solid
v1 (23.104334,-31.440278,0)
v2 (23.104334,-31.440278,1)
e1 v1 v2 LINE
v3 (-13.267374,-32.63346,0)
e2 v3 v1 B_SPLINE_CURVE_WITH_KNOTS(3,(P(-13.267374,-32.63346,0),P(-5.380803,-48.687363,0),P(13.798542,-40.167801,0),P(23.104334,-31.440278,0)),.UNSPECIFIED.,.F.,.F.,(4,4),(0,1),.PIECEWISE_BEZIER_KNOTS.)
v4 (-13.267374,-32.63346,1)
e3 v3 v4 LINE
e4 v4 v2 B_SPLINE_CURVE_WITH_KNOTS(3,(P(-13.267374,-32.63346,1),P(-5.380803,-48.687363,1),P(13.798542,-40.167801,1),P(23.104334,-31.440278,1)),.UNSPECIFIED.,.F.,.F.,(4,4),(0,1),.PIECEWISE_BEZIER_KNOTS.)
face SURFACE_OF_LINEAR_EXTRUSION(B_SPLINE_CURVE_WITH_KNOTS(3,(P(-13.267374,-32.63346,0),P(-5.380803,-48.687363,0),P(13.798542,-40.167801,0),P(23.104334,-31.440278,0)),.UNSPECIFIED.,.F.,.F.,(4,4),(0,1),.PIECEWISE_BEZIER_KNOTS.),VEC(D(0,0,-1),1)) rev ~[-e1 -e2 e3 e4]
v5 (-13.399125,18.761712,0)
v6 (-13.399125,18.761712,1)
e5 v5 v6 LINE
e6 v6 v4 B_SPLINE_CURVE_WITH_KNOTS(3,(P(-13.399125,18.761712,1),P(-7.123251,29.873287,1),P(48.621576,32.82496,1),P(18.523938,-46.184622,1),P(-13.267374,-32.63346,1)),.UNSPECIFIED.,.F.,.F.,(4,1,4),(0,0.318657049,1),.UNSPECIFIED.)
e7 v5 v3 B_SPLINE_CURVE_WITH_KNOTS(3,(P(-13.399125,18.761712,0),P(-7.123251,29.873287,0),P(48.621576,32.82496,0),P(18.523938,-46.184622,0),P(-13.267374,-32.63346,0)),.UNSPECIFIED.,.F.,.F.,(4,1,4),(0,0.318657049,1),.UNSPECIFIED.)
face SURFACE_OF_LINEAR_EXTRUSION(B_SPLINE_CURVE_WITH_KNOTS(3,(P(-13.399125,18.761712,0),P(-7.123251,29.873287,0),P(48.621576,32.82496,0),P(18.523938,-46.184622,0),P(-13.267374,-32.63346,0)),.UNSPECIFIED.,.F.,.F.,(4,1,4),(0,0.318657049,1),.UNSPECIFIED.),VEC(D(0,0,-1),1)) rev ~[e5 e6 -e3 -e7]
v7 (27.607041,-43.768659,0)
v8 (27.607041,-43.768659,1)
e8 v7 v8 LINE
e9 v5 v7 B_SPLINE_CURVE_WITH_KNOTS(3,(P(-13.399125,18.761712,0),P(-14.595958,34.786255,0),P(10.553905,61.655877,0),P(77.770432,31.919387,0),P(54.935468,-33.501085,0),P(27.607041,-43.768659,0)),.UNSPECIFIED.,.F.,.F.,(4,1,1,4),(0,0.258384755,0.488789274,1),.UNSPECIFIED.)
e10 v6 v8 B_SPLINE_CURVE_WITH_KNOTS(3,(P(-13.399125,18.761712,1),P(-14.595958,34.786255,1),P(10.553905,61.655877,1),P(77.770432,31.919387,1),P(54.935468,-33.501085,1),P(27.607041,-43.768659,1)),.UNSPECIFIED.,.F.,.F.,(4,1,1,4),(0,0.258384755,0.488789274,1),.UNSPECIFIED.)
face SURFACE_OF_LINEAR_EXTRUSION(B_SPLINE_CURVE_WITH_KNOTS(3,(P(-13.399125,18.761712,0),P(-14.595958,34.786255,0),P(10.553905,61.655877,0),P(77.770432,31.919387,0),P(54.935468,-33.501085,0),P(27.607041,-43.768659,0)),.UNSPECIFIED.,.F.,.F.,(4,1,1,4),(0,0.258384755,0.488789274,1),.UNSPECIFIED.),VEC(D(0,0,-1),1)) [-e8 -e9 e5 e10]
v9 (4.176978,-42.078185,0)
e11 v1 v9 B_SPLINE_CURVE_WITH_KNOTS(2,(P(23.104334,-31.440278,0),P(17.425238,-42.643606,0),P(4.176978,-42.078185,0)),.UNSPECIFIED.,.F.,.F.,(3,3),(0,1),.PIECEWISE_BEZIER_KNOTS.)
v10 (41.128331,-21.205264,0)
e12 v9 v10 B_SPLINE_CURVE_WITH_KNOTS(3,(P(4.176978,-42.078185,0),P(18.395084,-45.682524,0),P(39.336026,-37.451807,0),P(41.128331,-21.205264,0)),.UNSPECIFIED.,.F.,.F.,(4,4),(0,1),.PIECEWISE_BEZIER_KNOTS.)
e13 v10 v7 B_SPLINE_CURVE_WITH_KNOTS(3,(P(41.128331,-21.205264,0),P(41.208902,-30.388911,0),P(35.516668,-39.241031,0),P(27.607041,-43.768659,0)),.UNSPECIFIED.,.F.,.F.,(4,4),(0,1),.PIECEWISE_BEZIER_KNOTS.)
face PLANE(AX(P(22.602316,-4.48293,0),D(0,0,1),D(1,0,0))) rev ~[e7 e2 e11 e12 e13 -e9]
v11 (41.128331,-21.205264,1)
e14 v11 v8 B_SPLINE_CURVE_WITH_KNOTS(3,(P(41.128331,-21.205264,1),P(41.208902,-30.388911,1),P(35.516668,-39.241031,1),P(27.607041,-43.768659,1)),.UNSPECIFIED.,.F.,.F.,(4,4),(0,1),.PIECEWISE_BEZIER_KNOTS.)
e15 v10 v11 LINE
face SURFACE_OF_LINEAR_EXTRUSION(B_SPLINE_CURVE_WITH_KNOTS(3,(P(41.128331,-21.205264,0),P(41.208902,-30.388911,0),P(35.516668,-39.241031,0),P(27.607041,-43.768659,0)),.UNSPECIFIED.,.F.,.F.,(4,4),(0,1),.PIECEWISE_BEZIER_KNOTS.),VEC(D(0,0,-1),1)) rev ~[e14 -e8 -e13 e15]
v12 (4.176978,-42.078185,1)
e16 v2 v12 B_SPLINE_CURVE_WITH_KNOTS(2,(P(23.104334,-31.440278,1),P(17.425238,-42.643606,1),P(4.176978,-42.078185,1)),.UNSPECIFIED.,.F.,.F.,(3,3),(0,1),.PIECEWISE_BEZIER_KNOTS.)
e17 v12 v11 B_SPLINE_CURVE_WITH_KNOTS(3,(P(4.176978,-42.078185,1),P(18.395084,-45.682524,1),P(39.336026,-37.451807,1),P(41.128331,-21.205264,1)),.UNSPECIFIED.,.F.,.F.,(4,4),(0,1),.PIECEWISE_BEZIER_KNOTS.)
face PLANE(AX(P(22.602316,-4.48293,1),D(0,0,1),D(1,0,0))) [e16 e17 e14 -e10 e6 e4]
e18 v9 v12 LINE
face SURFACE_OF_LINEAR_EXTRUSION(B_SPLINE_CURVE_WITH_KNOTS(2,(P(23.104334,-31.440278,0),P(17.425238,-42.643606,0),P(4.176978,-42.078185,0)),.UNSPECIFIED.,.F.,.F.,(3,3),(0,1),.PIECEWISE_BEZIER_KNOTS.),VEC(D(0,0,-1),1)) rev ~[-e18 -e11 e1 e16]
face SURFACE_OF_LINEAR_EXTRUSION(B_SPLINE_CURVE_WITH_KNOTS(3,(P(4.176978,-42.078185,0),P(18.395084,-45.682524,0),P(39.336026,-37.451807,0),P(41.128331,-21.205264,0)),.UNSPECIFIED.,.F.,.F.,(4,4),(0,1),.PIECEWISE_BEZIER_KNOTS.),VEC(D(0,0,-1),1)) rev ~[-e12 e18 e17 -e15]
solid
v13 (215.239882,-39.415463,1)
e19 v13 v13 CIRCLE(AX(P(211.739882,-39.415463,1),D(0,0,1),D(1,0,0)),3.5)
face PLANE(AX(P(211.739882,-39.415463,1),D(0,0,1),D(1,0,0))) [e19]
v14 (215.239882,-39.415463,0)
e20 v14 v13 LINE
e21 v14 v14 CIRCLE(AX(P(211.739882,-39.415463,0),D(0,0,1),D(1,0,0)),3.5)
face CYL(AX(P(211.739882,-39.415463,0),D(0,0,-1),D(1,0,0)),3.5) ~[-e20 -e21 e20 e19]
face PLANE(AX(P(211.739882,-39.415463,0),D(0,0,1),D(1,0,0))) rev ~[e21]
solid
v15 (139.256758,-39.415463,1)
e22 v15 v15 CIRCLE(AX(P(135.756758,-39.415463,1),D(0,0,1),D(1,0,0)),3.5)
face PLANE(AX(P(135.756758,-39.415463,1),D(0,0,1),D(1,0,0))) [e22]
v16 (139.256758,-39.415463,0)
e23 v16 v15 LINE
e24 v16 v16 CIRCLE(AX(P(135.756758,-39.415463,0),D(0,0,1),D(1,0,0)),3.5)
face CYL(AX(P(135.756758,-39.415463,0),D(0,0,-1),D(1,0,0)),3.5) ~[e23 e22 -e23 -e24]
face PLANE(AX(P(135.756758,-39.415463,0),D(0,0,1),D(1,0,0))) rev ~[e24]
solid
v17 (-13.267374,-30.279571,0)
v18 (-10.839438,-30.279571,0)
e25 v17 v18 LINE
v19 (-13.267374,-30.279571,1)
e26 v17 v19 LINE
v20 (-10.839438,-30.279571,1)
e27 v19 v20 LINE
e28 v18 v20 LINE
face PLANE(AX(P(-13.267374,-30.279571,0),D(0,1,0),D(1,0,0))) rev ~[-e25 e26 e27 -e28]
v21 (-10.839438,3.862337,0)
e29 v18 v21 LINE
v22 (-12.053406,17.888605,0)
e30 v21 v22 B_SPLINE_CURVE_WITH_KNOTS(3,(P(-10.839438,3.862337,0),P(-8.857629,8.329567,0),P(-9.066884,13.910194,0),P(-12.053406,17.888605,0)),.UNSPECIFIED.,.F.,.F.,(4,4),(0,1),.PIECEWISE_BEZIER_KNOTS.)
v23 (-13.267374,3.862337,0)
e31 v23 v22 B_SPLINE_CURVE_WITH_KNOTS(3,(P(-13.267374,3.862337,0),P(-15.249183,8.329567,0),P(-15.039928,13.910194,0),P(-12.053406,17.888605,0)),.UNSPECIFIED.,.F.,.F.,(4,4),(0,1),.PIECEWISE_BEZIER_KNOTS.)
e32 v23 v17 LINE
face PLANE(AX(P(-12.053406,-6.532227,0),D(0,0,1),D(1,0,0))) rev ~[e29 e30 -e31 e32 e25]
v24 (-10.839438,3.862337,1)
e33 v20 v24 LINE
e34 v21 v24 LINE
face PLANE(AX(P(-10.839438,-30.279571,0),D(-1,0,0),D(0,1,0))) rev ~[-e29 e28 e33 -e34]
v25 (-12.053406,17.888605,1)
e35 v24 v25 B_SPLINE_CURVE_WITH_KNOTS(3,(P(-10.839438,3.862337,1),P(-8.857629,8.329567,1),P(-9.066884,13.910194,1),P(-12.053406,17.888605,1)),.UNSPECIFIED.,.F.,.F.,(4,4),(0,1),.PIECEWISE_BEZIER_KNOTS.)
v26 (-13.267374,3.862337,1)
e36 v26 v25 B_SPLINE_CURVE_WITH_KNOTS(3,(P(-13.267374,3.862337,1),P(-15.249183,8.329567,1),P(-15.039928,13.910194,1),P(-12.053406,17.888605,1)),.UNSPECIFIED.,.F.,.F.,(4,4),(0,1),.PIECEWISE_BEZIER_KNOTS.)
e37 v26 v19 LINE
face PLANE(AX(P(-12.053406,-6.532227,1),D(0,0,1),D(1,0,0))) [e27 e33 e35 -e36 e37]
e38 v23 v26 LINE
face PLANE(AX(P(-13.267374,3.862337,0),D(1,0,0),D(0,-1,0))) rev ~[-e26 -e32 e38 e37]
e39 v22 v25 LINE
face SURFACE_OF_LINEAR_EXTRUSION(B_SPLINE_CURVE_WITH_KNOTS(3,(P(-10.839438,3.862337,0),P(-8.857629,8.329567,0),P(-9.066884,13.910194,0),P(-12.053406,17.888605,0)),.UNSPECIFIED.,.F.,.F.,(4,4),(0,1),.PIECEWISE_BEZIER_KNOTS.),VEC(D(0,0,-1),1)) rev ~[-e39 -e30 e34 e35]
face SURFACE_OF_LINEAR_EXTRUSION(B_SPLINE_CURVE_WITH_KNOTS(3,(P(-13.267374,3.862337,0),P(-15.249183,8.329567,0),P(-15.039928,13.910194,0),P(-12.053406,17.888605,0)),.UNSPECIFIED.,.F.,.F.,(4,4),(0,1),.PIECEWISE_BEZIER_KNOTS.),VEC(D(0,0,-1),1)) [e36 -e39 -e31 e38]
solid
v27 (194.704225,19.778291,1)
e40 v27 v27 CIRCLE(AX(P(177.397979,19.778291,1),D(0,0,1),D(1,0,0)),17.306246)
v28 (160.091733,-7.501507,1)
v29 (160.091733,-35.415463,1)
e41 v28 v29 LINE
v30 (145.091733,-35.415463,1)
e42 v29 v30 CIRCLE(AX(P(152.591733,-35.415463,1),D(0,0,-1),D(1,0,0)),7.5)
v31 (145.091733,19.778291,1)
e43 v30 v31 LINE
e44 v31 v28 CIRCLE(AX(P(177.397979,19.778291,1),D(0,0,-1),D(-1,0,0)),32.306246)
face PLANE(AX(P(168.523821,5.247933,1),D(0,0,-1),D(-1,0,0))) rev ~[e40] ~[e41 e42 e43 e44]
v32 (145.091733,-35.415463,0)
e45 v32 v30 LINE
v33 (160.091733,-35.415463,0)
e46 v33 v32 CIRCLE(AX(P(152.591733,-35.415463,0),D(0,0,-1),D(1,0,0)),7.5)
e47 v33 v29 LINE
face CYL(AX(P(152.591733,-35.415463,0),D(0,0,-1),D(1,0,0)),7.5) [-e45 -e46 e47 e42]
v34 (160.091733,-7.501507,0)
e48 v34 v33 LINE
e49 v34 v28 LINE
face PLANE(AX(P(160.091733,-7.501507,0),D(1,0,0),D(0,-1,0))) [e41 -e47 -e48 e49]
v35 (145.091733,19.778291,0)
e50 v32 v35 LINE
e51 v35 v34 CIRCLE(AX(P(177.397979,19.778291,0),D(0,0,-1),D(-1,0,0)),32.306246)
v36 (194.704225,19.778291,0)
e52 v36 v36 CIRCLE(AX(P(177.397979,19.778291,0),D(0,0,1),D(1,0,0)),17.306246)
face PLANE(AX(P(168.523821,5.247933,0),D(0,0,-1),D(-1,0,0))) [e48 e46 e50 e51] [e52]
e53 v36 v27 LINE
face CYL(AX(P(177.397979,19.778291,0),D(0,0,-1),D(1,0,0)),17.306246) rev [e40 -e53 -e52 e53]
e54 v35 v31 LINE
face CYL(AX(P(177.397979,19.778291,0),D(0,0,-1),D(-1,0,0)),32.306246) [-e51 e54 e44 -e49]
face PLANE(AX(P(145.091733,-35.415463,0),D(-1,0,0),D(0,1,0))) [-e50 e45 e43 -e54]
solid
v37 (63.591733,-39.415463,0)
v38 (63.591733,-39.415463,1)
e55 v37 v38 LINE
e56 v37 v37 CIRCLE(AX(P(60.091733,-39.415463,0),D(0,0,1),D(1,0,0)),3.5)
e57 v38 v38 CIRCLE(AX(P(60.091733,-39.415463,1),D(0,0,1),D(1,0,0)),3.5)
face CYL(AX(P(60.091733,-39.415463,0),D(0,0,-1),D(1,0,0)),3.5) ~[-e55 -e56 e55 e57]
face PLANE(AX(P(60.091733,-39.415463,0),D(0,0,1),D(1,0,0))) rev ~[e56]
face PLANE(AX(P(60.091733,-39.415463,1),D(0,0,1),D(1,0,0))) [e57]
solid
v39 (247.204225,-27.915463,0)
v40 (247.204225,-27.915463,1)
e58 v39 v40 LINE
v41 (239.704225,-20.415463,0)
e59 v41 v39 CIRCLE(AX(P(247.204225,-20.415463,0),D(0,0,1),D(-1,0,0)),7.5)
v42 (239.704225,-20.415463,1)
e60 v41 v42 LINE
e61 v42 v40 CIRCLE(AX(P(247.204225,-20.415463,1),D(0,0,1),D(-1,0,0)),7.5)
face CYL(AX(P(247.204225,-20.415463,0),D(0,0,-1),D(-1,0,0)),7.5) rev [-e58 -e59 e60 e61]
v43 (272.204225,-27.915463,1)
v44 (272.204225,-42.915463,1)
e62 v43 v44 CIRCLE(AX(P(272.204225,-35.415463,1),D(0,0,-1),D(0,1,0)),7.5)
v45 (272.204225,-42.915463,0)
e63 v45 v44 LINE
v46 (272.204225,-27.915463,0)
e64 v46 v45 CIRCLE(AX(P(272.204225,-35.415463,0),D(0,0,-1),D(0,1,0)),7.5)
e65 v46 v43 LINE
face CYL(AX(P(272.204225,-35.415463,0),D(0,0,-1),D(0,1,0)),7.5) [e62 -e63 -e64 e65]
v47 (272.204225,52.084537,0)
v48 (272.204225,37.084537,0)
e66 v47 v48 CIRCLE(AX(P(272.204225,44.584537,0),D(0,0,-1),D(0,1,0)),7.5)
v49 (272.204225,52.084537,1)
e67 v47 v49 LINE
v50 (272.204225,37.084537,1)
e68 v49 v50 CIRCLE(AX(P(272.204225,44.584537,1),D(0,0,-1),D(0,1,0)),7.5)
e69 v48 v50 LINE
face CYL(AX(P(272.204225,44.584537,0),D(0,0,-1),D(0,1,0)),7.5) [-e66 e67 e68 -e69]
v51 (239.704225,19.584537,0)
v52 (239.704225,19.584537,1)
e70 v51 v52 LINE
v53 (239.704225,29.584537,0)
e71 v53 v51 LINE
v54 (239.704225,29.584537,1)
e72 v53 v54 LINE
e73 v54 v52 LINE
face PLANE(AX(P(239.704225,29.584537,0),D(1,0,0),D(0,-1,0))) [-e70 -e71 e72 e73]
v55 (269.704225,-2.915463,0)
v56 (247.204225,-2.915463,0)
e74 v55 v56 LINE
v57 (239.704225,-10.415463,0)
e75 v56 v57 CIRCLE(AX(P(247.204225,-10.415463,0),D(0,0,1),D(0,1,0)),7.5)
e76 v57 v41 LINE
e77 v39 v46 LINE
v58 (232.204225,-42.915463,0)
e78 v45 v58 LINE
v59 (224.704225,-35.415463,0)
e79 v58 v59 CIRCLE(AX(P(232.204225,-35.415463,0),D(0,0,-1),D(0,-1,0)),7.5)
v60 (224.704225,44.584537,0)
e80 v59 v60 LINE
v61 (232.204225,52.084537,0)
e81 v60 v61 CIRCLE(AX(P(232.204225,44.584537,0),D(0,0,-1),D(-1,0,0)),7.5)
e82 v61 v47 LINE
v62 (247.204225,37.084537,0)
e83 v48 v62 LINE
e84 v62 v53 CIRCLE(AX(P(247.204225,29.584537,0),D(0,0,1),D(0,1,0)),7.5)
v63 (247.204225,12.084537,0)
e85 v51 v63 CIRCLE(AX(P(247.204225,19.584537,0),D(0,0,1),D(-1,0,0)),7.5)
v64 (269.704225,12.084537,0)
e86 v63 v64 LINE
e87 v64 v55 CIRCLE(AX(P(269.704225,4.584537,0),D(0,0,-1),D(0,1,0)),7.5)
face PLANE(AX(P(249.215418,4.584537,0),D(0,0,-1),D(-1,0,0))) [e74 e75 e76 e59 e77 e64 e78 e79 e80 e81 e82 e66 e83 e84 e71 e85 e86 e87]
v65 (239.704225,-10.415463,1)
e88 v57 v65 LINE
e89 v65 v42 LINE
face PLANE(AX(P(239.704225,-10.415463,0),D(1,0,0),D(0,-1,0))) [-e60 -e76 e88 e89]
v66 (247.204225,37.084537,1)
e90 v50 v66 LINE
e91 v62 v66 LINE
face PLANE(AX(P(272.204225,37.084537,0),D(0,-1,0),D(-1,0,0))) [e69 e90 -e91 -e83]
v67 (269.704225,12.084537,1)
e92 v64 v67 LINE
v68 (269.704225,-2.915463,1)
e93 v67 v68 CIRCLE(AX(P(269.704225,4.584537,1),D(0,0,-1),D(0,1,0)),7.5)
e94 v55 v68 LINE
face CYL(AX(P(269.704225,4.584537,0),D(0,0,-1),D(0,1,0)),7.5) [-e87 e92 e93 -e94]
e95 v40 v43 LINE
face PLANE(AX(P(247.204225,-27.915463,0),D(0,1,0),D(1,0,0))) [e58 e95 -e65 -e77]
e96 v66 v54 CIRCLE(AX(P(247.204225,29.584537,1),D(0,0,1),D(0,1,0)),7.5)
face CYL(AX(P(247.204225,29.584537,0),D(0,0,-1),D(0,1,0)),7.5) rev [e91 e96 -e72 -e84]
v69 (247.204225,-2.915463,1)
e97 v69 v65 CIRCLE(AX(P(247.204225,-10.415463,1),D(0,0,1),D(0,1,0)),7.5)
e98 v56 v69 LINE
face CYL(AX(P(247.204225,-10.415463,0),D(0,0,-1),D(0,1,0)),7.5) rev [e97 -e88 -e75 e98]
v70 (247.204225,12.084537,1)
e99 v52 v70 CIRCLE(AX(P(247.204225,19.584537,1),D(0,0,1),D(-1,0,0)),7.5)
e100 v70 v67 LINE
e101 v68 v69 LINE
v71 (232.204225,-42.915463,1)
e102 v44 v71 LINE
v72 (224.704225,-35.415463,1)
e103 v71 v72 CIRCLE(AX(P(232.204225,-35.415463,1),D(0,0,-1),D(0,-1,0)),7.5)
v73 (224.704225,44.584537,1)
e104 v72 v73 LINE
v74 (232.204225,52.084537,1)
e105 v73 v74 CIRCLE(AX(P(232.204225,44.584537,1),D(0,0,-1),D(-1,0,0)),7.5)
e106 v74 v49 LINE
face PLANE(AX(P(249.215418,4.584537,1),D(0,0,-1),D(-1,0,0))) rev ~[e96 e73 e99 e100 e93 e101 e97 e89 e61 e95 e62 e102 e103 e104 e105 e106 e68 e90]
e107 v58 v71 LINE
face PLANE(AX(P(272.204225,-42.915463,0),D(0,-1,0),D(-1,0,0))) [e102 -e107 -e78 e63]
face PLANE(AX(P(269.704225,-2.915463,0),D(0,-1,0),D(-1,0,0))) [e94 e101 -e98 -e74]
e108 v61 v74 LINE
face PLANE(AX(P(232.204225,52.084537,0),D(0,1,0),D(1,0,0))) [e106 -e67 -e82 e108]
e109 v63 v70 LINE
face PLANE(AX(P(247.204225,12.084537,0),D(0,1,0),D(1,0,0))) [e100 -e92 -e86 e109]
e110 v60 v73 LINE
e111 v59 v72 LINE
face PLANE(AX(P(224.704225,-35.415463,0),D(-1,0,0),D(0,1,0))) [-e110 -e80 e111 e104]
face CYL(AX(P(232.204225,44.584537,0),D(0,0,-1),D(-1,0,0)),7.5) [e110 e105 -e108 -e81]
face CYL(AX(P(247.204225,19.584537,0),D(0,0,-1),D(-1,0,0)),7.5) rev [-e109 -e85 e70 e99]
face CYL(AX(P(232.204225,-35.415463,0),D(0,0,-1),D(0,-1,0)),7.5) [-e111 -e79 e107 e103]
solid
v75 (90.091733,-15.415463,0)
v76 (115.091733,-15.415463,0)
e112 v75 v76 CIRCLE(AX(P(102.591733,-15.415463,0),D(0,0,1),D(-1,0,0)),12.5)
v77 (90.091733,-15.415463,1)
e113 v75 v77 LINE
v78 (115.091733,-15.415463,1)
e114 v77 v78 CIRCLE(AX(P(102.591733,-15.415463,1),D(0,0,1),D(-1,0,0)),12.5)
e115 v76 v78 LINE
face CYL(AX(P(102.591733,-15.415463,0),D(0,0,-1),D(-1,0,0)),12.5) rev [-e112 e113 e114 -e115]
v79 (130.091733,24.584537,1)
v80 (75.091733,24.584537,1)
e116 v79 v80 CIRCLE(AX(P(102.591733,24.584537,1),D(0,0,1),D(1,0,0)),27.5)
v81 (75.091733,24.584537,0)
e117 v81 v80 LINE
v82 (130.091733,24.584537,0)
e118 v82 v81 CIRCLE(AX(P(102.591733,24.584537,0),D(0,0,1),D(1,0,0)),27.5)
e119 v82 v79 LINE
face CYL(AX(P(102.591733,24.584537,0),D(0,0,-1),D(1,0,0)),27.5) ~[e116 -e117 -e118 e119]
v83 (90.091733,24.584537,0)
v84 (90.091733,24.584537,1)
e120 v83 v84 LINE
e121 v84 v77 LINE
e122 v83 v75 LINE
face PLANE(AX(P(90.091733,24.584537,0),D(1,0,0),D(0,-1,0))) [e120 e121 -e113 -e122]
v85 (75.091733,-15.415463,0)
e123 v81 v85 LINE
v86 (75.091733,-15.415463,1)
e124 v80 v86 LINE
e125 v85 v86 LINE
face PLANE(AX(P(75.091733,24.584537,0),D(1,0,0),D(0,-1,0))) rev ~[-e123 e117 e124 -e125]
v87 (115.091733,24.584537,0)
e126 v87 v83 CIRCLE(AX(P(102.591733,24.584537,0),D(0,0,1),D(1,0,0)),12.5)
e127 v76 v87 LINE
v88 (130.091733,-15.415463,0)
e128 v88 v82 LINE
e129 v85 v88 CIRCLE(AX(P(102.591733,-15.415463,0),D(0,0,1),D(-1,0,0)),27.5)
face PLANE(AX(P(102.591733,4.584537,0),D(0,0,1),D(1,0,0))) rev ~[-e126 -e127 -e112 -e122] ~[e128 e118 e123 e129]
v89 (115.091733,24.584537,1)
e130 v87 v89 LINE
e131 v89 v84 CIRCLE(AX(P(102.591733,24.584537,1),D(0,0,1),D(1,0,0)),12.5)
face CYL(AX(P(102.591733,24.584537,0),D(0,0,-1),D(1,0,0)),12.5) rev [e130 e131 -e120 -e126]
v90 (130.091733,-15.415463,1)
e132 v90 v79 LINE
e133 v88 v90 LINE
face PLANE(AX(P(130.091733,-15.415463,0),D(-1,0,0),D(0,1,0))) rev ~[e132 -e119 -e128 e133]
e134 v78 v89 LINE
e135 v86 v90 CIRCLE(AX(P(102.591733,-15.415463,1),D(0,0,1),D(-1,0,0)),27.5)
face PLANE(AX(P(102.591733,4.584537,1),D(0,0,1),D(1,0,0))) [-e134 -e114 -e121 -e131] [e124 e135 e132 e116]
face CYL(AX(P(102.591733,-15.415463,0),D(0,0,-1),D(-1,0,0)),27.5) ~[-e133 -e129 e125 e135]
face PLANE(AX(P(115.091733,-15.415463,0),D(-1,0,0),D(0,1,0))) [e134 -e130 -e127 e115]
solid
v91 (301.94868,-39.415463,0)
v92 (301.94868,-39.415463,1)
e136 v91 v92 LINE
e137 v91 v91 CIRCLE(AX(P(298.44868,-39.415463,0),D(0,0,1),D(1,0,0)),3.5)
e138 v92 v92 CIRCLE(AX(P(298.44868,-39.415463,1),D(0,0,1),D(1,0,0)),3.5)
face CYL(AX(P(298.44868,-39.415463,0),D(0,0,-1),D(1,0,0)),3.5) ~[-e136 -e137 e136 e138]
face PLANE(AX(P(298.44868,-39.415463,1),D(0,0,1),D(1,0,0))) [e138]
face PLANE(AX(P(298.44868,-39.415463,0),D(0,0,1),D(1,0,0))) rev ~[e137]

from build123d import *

# Parameters (mm, degrees)
BOSS_EXTRUDE2_DEPTH   = 1
BOSS_EXTRUDE2_2_DEPTH = 1
SKETCH1_R             = 17.306246178
BOSS_EXTRUDE2_3_DEPTH = 1
BOSS_EXTRUDE2_4_DEPTH = 1
SKETCH1_R_2           = 3.5
BOSS_EXTRUDE2_5_DEPTH = 1
BOSS_EXTRUDE2_6_DEPTH = 1
BOSS_EXTRUDE2_7_DEPTH = 1
BOSS_EXTRUDE2_8_DEPTH = 1
BOSS_EXTRUDE2_9_DEPTH = 1


with BuildPart() as part:
    # Sketch1 → Boss-Extrude2 (new body)
    with BuildSketch(Plane.XY):
        with BuildLine():
            add(Edge.make_bspline(
                [(4.176977783, -42.078185234), (18.395083622, -45.682524488), (39.336025743, -37.451807212), (41.128331273, -21.205264171)],
                knots=[0, 0, 0, 0, 1, 1, 1, 1], degree=3))
            add(Edge.make_bspline(
                [(41.128331273, -21.205264171), (41.208901802, -30.388911485), (35.516667738, -39.241031169), (27.607041209, -43.768658793)],
                knots=[0, 0, 0, 0, 1, 1, 1, 1], degree=3))
            add(Edge.make_bspline(
                [(-13.399125446, 18.761712123), (-14.595958135, 34.786255378), (10.553904842, 61.655876776), (77.770432351, 31.919386813), (54.935467618, -33.501084615), (27.607041209, -43.768658793)],
                knots=[0, 0, 0, 0, 0.258384755, 0.488789274, 1, 1, 1, 1], degree=3))
            add(Edge.make_bspline(
                [(-13.399125446, 18.761712123), (-7.123250575, 29.873286707), (48.621576352, 32.824960108), (18.52393849, -46.184621535), (-13.267373889, -32.633459969)],
                knots=[0, 0, 0, 0, 0.318657049, 1, 1, 1, 1], degree=3))
            add(Edge.make_bspline(
                [(-13.267373889, -32.633459969), (-5.380803499, -48.687362539), (13.798541794, -40.167801005), (23.104333777, -31.440277806)],
                knots=[0, 0, 0, 0, 1, 1, 1, 1], degree=3))
            add(Edge.make_bspline(
                [(23.104333777, -31.440277806), (17.42523783, -42.64360628), (4.176977783, -42.078185234)],
                knots=[0, 0, 0, 1, 1, 1], degree=2))
        make_face()
    extrude(amount=BOSS_EXTRUDE2_DEPTH)


with BuildPart() as body_2:
    # Sketch1 → Boss-Extrude2 2 (new body)
    with BuildSketch(Plane.XY):
        with BuildLine():
            Line((75.09173282, 24.58453691), (75.09173282, -15.41546309))
            ThreePointArc((75.09173282, -15.41546309), (102.59173282, -42.91546309), (130.09173282, -15.41546309))
            Line((130.09173282, -15.41546309), (130.09173282, 24.58453691))
            ThreePointArc((130.09173282, 24.58453691), (102.59173282, 52.08453691), (75.09173282, 24.58453691))
        make_face()
        with BuildLine():
            ThreePointArc((90.09173282, -15.41546309), (102.59173282, -27.91546309), (115.09173282, -15.41546309))
            Line((115.09173282, -15.41546309), (115.09173282, 24.58453691))
            ThreePointArc((115.09173282, 24.58453691), (102.59173282, 37.08453691), (90.09173282, 24.58453691))
            Line((90.09173282, 24.58453691), (90.09173282, -15.41546309))
        make_face(mode=Mode.SUBTRACT)
    extrude(amount=BOSS_EXTRUDE2_2_DEPTH)


with BuildPart() as body_3:
    # Sketch1 → Boss-Extrude2 3 (new body)
    with BuildSketch(Plane.XY):
        with BuildLine():
            ThreePointArc((160.09173282, -35.41546309), (152.59173282, -42.91546309), (145.09173282, -35.41546309))
            Line((145.09173282, -35.41546309), (145.09173282, 19.778290732))
            ThreePointArc((145.09173282, 19.778290732), (205.706929805, 35.344177997), (160.09173282, -7.501507385))
            Line((160.09173282, -7.501507385), (160.09173282, -35.41546309))
        make_face()
        with Locations((177.397978998, 19.778290732)):
            Circle(SKETCH1_R, mode=Mode.SUBTRACT)
    extrude(amount=BOSS_EXTRUDE2_3_DEPTH)


with BuildPart() as body_4:
    # Sketch1 → Boss-Extrude2 4 (new body)
    with BuildSketch(Plane.XY):
        with BuildLine():
            ThreePointArc((239.704225176, 19.58453691), (241.900924317, 14.281236051), (247.204225176, 12.08453691))
            Line((247.204225176, 12.08453691), (269.704225176, 12.08453691))
            ThreePointArc((269.704225176, 12.08453691), (277.204225176, 4.58453691), (269.704225176, -2.91546309))
            Line((269.704225176, -2.91546309), (247.204225176, -2.91546309))
            ThreePointArc((247.204225176, -2.91546309), (241.900924317, -5.112162231), (239.704225176, -10.41546309))
            Line((239.704225176, -10.41546309), (239.704225176, -20.41546309))
            ThreePointArc((239.704225176, -20.41546309), (241.900924317, -25.718763949), (247.204225176, -27.91546309))
            Line((247.204225176, -27.91546309), (272.204225176, -27.91546309))
            ThreePointArc((272.204225176, -27.91546309), (279.704225176, -35.41546309), (272.204225176, -42.91546309))
            Line((272.204225176, -42.91546309), (232.204225176, -42.91546309))
            ThreePointArc((232.204225176, -42.91546309), (226.900924317, -40.718763949), (224.704225176, -35.41546309))
            Line((224.704225176, -35.41546309), (224.704225176, 44.58453691))
            ThreePointArc((224.704225176, 44.58453691), (226.900924317, 49.887837769), (232.204225176, 52.08453691))
            Line((232.204225176, 52.08453691), (272.204225176, 52.08453691))
            ThreePointArc((272.204225176, 52.08453691), (279.704225176, 44.58453691), (272.204225176, 37.08453691))
            Line((272.204225176, 37.08453691), (247.204225176, 37.08453691))
            ThreePointArc((247.204225176, 37.08453691), (241.900924317, 34.887837769), (239.704225176, 29.58453691))
            Line((239.704225176, 29.58453691), (239.704225176, 19.58453691))
        make_face()
    extrude(amount=BOSS_EXTRUDE2_4_DEPTH)


with BuildPart() as body_5:
    # Sketch1 → Boss-Extrude2 5 (new body)
    with BuildSketch(Plane.XY):
        with Locations((60.09173282, -39.41546309)):
            Circle(SKETCH1_R_2)
    extrude(amount=BOSS_EXTRUDE2_5_DEPTH)


with BuildPart() as body_6:
    # Sketch1 → Boss-Extrude2 6 (new body)
    with BuildSketch(Plane.XY):
        with Locations((211.739881598, -39.41546309)):
            Circle(SKETCH1_R_2)
    extrude(amount=BOSS_EXTRUDE2_6_DEPTH)


with BuildPart() as body_7:
    # Sketch1 → Boss-Extrude2 7 (new body)
    with BuildSketch(Plane.XY):
        with Locations((298.448680124, -39.41546309)):
            Circle(SKETCH1_R_2)
    extrude(amount=BOSS_EXTRUDE2_7_DEPTH)


with BuildPart() as body_8:
    # Sketch1 → Boss-Extrude2 8 (new body)
    with BuildSketch(Plane.XY):
        with Locations((135.756758441, -39.41546309)):
            Circle(SKETCH1_R_2)
    extrude(amount=BOSS_EXTRUDE2_8_DEPTH)


with BuildPart() as body_9:
    # Sketch1 → Boss-Extrude2 9 (new body)
    with BuildSketch(Plane.XY):
        with BuildLine():
            Line((-10.839438068, -30.279571053), (-10.839438068, 3.862337))
            add(Edge.make_bspline(
                [(-10.839438068, 3.862337), (-8.857628869, 8.32956724), (-9.066883985, 13.910194283), (-12.053405979, 17.888605243)],
                knots=[0, 0, 0, 0, 1, 1, 1, 1], degree=3))
            add(Edge.make_bspline(
                [(-13.267373889, 3.862337), (-15.249183089, 8.32956724), (-15.039927972, 13.910194283), (-12.053405979, 17.888605243)],
                knots=[0, 0, 0, 0, 1, 1, 1, 1], degree=3))
            Line((-13.267373889, 3.862337), (-13.267373889, -30.279571053))
            Line((-13.267373889, -30.279571053), (-10.839438068, -30.279571053))
        make_face()
    extrude(amount=BOSS_EXTRUDE2_9_DEPTH)


solid = Compound([part.part, body_2.part, body_3.part, body_4.part, body_5.part, body_6.part, body_7.part, body_8.part, body_9.part])
